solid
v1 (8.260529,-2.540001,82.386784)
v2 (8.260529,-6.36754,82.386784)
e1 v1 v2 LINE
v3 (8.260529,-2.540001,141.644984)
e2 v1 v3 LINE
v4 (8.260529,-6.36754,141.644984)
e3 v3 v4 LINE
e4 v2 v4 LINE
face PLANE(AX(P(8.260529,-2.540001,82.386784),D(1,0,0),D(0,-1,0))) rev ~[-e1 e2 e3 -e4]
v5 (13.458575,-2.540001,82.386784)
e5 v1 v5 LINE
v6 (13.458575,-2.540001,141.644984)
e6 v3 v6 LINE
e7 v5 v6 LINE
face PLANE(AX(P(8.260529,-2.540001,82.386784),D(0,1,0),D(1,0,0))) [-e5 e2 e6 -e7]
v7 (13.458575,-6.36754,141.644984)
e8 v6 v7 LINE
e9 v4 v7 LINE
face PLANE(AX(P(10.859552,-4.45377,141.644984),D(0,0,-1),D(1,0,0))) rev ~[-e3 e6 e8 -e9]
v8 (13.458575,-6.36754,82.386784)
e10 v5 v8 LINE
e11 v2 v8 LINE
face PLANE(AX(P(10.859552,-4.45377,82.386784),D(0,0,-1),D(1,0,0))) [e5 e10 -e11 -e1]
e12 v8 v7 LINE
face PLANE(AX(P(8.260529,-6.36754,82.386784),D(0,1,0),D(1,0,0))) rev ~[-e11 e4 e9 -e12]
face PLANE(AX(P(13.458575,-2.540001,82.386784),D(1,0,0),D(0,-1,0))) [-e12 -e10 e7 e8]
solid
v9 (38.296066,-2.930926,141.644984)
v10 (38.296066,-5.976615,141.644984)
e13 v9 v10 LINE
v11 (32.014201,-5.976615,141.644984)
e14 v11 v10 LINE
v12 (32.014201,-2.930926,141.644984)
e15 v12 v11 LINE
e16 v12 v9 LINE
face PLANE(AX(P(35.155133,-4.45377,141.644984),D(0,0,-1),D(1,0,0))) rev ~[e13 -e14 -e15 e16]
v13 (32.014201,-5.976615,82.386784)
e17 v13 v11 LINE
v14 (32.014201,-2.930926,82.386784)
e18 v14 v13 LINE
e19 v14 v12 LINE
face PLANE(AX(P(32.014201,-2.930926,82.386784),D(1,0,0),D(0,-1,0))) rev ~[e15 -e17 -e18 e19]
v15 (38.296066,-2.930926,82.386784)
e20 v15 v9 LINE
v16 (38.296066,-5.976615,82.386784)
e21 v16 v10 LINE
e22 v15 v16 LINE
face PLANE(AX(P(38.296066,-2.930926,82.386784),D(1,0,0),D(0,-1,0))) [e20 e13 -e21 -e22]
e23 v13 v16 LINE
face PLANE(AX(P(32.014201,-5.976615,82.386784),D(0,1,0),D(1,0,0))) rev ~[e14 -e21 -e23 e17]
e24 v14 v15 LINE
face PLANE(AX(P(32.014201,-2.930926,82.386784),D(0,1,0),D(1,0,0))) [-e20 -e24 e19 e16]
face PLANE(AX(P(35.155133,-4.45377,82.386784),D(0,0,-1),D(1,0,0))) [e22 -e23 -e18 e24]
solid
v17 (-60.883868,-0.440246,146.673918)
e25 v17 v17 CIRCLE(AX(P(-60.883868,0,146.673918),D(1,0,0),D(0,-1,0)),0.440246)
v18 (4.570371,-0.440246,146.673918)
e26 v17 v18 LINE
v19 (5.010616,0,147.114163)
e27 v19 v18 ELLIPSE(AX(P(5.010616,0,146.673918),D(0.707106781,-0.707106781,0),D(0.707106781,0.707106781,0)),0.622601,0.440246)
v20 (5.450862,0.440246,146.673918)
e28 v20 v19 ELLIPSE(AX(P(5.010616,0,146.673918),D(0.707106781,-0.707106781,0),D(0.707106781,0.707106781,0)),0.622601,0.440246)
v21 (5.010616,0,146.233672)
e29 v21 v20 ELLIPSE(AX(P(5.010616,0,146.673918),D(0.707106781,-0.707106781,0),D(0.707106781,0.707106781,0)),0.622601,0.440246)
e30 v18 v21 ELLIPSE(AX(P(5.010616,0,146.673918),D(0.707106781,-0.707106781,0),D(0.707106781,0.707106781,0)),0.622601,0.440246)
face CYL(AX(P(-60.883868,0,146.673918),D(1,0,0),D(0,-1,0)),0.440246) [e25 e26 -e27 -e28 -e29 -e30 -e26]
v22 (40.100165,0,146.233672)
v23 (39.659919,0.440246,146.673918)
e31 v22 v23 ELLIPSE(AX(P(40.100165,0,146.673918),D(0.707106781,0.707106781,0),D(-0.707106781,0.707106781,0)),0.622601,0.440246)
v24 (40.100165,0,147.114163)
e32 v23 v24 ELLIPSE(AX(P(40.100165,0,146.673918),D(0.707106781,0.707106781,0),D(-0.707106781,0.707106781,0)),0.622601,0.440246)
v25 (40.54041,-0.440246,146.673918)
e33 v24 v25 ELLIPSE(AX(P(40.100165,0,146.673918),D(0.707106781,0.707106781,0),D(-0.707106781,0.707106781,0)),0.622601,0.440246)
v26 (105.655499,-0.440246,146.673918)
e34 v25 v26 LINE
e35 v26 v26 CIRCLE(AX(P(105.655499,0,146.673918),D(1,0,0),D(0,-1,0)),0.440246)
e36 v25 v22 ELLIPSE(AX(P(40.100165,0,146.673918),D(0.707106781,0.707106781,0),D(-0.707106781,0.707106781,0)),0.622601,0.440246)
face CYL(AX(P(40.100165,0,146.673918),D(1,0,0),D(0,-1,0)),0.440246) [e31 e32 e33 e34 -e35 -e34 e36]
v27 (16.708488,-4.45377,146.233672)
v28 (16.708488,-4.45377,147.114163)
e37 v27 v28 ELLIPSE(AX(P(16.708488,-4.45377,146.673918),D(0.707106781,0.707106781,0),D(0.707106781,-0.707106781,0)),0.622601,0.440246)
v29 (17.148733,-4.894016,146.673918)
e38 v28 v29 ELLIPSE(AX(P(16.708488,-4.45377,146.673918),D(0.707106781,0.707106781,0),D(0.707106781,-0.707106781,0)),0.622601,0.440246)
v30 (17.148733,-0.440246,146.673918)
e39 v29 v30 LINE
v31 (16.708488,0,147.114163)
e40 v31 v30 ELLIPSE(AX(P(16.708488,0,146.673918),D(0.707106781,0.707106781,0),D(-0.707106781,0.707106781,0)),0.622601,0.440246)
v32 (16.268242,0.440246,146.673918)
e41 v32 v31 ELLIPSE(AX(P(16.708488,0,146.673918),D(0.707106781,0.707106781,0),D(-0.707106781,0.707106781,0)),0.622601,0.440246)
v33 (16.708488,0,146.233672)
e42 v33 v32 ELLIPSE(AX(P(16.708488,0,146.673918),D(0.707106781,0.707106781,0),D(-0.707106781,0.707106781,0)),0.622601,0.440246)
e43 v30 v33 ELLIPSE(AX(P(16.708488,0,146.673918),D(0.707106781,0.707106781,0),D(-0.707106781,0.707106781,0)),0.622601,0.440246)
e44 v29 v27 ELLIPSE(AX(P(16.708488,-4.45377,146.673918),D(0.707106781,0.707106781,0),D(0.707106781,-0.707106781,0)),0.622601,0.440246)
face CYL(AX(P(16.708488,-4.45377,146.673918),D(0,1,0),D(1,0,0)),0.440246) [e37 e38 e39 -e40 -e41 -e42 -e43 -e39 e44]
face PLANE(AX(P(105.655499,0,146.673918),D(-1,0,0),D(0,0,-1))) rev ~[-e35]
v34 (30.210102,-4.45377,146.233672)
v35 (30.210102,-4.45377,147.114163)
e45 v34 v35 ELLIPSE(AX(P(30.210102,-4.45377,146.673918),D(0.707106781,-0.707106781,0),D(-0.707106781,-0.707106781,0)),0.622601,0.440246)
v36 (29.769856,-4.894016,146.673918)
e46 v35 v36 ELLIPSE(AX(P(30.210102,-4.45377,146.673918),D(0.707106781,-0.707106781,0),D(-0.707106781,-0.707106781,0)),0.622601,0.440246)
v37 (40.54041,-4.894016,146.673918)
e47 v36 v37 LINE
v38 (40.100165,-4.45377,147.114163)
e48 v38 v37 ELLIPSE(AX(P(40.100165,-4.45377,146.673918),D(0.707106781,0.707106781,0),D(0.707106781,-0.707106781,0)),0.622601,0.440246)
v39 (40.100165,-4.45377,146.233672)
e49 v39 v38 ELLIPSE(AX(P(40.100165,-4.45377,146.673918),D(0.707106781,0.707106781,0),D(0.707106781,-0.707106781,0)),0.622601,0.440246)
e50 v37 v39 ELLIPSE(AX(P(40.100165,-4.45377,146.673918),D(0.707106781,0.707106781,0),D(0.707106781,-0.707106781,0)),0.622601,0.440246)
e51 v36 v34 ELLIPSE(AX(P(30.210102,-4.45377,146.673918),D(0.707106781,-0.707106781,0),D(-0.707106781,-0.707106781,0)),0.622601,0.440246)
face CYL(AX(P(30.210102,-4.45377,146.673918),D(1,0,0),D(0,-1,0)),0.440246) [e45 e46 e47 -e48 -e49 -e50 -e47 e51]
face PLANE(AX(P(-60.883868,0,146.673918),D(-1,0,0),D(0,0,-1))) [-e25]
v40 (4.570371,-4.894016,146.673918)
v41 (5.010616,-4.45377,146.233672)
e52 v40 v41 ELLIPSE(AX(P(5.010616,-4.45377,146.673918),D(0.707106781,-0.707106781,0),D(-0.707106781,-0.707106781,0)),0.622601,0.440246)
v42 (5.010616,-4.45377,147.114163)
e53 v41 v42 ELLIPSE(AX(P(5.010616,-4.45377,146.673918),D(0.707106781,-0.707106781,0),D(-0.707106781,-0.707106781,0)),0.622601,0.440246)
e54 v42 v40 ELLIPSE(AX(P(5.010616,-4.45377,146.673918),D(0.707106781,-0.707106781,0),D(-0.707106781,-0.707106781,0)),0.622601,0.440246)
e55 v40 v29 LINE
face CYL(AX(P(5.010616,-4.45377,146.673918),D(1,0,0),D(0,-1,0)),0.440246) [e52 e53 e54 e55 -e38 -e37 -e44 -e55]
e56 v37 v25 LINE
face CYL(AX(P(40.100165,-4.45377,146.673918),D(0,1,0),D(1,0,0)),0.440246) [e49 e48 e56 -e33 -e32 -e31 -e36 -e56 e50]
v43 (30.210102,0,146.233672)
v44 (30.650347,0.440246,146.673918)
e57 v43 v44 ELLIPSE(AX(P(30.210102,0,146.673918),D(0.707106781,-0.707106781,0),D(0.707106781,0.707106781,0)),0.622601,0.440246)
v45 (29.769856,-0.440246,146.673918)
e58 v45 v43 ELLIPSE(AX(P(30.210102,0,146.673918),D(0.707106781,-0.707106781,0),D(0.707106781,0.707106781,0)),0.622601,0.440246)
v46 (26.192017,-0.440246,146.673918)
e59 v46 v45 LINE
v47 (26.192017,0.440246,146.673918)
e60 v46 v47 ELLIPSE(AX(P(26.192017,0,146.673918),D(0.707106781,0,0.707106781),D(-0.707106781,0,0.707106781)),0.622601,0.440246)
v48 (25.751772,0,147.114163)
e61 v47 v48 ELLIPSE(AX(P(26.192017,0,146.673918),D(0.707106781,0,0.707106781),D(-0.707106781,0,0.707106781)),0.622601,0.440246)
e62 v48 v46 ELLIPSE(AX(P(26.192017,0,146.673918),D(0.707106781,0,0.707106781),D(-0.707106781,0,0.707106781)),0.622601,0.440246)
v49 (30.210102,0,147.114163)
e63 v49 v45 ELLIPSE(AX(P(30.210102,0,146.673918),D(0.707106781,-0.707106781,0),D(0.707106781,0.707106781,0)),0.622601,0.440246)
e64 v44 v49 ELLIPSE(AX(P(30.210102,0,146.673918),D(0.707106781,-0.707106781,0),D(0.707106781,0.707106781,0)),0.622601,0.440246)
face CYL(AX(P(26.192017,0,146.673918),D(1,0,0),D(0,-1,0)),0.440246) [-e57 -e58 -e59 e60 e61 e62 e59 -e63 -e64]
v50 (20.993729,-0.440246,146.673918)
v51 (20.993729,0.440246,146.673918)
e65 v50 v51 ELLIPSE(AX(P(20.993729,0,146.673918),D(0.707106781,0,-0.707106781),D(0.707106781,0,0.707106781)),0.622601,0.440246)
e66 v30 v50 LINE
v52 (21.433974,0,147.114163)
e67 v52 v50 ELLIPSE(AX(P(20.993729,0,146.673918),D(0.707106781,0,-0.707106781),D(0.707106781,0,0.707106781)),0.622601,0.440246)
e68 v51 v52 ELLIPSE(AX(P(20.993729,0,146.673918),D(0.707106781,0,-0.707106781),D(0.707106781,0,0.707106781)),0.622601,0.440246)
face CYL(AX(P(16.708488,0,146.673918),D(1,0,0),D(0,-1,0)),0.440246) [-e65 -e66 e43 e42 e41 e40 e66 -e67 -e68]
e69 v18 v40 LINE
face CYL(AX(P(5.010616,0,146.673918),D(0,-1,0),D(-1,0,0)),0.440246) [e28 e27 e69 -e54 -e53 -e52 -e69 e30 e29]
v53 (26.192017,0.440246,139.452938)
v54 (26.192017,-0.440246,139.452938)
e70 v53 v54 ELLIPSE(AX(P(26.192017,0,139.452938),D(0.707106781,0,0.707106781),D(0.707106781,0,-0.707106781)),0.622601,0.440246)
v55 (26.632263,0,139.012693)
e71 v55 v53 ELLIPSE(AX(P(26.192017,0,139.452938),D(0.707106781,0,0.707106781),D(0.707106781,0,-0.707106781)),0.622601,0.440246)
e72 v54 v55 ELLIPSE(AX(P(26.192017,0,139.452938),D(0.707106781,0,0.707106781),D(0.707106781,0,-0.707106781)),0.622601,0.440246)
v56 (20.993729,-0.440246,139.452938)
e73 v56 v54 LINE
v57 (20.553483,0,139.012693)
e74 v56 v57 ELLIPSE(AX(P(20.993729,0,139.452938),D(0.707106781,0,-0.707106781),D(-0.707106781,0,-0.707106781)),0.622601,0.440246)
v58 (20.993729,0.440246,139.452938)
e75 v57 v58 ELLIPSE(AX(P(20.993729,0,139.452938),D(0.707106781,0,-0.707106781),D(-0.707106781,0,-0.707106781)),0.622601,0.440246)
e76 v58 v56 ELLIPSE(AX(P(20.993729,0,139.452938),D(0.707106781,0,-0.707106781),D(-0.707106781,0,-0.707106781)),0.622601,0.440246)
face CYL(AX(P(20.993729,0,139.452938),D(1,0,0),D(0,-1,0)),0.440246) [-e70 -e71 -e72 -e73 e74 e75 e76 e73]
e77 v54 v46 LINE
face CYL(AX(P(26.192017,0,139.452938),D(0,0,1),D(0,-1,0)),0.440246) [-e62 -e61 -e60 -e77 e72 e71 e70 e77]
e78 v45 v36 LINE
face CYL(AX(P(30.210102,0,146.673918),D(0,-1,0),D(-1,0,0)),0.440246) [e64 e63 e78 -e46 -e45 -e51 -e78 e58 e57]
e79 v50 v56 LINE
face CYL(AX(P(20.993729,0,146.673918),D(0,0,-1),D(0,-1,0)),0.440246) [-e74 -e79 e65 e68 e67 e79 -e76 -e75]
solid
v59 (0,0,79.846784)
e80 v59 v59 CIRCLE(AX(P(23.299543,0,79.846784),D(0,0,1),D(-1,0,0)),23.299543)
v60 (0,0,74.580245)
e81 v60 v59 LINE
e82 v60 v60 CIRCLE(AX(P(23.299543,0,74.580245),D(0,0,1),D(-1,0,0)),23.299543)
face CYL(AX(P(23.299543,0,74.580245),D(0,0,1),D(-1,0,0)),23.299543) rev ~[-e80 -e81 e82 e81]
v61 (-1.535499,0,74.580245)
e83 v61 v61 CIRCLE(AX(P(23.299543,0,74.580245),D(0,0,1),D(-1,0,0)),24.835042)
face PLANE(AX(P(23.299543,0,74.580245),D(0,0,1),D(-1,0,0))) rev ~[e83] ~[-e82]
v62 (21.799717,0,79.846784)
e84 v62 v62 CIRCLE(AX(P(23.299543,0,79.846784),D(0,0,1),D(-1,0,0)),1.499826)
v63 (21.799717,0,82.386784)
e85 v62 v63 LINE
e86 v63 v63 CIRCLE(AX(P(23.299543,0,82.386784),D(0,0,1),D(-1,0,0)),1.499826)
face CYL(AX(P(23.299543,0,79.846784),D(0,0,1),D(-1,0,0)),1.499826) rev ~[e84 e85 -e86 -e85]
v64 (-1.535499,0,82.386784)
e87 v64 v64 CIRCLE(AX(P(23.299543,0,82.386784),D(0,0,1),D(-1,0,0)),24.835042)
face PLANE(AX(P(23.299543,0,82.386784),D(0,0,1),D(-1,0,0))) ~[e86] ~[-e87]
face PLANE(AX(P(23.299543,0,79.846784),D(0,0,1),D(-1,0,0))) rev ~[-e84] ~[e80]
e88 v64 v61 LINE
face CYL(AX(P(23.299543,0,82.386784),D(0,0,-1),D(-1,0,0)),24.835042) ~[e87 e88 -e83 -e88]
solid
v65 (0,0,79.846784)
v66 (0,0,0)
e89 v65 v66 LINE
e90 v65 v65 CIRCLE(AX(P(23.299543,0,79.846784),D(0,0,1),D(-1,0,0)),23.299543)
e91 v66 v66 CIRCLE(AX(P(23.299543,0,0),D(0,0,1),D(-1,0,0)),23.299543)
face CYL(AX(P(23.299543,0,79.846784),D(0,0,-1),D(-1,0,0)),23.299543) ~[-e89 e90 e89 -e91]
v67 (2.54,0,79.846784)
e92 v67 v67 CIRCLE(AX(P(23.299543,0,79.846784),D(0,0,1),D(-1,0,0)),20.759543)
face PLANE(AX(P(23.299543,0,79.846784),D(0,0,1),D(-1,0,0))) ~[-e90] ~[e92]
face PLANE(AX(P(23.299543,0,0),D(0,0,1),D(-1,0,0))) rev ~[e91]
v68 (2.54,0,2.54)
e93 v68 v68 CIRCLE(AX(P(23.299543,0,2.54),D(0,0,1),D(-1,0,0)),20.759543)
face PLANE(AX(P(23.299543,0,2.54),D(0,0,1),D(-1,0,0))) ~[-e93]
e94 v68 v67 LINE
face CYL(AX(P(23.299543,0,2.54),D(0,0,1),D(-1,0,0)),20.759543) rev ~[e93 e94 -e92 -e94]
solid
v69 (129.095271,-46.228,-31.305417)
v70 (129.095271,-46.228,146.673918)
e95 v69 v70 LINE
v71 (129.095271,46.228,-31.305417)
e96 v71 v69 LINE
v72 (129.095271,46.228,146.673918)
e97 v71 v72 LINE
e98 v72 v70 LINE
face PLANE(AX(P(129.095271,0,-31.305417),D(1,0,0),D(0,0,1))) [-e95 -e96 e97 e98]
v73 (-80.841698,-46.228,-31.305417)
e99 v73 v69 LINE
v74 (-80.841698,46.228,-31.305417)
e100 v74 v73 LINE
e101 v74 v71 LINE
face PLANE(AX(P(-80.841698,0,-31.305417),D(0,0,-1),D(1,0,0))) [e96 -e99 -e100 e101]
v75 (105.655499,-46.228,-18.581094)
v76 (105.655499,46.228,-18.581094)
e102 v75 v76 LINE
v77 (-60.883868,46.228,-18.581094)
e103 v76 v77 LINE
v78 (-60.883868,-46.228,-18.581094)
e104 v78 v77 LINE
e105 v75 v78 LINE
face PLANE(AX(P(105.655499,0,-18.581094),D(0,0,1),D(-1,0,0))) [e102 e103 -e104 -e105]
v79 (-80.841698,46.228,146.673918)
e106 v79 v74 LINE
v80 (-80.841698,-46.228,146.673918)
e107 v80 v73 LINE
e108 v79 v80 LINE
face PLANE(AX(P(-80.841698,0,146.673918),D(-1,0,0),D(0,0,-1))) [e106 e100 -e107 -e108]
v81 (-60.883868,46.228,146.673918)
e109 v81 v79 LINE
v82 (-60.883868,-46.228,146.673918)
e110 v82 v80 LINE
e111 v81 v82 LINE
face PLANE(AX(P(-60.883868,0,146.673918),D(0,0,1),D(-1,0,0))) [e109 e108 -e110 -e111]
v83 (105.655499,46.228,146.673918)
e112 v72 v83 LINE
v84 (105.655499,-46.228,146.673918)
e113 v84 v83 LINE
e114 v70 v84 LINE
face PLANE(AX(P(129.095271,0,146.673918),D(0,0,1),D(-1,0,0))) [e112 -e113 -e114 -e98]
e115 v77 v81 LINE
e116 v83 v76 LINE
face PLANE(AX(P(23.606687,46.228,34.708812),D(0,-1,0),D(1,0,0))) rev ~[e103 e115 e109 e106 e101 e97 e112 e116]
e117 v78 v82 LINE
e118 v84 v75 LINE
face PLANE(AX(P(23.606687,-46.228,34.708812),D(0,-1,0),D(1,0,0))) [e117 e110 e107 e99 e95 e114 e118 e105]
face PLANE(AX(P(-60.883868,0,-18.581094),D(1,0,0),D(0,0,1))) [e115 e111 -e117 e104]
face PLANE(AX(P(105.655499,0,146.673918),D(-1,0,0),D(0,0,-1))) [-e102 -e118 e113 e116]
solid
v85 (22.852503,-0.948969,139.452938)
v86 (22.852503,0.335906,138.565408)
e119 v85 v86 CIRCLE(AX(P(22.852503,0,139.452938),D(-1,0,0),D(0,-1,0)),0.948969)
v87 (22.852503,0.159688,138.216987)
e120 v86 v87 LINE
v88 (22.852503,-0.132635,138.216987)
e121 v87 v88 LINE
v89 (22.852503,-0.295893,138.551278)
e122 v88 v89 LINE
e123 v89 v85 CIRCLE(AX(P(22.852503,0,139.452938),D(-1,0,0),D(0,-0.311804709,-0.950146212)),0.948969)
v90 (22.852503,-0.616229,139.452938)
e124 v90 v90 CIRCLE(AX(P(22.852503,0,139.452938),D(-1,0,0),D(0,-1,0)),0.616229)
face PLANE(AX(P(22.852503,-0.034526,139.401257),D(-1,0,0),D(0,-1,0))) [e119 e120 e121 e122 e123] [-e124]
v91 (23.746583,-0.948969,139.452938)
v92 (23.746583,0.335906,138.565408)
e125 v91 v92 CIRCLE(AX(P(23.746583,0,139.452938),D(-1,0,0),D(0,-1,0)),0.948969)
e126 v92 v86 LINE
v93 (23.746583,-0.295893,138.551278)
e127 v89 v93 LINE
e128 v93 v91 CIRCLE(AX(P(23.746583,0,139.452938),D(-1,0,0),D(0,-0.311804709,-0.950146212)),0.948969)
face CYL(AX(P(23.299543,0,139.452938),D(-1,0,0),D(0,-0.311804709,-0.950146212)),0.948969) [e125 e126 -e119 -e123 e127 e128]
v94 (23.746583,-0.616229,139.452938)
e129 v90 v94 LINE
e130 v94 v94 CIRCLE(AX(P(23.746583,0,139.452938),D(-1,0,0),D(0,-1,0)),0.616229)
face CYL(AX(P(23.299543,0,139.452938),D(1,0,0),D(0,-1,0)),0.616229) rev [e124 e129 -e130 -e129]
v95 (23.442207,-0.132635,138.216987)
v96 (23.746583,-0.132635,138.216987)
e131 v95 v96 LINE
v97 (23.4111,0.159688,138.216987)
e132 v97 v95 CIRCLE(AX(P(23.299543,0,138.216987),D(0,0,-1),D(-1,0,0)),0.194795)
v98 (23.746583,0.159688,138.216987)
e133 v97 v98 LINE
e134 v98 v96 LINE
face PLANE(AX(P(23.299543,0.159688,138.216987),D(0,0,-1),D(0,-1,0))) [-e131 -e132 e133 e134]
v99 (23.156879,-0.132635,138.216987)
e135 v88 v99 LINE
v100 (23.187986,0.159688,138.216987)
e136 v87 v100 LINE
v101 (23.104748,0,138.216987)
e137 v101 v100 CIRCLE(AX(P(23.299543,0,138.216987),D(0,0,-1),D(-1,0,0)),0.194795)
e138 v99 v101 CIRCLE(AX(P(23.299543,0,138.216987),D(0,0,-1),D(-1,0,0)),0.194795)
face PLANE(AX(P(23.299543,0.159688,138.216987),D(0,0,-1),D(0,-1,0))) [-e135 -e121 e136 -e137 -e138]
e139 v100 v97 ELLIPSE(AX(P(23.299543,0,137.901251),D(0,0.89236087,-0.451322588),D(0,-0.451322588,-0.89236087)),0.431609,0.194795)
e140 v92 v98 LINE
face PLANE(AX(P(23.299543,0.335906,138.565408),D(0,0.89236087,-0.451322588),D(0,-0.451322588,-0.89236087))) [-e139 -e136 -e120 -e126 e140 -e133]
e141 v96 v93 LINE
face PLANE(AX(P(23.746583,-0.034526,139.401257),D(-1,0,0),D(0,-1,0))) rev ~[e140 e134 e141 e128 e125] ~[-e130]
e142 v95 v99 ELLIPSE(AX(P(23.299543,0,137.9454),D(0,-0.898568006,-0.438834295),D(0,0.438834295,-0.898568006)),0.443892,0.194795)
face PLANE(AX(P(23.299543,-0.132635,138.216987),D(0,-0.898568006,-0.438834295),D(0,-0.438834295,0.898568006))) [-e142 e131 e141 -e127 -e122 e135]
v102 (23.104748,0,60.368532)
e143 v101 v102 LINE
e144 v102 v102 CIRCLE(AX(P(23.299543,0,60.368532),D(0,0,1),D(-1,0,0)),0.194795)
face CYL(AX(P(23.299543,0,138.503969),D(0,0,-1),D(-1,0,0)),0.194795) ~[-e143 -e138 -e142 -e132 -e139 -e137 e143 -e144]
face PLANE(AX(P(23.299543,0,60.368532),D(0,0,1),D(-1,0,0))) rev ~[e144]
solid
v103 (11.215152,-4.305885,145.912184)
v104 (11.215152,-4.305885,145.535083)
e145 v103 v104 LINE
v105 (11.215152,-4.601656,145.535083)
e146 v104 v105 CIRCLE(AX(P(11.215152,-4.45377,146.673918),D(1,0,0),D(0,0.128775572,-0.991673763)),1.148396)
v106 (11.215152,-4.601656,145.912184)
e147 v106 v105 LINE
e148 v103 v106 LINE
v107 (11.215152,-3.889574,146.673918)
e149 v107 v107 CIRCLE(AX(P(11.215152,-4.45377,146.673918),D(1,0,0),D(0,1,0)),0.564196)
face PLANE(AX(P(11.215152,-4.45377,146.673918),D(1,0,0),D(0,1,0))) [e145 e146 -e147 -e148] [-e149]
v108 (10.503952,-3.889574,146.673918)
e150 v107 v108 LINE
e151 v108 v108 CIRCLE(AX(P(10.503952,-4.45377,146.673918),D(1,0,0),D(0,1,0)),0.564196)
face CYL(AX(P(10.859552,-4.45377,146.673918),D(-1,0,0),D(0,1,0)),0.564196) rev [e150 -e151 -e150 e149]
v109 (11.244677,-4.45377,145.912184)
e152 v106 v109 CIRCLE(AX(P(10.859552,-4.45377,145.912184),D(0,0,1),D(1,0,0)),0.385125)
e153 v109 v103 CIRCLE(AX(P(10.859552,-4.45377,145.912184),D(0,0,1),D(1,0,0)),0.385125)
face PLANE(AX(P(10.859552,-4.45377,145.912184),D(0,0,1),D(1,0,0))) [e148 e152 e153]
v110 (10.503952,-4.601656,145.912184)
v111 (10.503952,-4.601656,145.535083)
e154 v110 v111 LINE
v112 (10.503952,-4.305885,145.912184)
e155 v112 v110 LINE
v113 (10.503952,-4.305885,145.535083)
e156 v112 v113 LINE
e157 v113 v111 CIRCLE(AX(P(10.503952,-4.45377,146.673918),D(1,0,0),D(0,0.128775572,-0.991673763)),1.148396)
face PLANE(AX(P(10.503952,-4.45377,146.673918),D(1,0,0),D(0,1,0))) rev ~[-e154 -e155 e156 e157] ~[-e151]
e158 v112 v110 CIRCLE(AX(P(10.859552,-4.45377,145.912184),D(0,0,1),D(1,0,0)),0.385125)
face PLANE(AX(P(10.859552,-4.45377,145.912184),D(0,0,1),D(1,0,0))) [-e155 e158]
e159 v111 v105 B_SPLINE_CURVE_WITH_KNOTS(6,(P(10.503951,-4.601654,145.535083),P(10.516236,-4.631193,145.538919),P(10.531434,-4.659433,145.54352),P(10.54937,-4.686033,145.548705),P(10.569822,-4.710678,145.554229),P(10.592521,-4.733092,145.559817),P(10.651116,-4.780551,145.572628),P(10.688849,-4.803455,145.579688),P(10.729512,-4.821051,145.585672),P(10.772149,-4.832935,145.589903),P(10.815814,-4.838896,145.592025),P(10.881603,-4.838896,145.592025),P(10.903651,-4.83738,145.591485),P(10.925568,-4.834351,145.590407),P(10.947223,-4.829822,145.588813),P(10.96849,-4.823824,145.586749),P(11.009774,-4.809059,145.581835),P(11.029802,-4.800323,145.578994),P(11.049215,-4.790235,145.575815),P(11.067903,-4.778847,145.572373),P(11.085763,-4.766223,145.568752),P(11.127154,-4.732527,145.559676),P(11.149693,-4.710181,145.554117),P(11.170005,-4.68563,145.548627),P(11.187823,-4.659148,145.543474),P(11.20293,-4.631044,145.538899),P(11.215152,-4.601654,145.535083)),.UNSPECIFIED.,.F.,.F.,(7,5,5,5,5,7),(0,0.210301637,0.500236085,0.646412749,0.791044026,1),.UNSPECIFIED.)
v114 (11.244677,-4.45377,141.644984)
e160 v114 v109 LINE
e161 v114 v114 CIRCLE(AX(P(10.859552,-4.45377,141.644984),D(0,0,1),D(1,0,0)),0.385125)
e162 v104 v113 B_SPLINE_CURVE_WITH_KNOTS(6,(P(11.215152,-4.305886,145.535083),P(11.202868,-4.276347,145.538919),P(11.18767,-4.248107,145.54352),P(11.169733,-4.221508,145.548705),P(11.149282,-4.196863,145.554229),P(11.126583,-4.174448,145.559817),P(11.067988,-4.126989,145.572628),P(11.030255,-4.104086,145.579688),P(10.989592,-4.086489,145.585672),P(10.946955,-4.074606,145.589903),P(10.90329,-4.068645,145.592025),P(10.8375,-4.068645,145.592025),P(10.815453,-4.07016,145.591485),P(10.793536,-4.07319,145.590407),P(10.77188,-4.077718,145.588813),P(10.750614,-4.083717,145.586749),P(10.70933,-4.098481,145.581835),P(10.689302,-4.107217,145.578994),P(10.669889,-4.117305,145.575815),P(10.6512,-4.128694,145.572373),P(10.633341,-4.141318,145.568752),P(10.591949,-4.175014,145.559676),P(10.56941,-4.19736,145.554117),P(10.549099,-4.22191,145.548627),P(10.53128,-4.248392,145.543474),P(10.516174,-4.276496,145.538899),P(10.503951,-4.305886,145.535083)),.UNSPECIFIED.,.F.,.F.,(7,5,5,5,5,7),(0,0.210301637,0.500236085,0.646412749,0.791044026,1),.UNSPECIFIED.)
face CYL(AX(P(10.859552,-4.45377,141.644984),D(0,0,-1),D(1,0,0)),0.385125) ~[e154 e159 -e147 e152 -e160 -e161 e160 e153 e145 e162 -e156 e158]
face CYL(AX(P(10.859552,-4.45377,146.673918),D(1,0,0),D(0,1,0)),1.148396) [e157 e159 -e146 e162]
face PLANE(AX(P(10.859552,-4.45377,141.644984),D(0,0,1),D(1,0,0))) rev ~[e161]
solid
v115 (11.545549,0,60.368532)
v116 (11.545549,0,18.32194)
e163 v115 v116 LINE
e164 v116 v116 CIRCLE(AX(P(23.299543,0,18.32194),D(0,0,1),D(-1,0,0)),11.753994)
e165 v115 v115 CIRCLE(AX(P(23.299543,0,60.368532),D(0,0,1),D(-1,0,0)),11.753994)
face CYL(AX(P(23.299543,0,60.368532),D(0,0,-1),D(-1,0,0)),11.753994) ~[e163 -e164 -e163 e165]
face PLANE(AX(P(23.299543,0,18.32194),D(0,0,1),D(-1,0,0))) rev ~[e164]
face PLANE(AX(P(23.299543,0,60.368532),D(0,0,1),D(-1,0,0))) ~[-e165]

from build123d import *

# Parameters (mm, degrees)
F0_W      = 0.1947950749
F0_H      = 56.1171844602
F0_H_2    = 2.54
F0_H_3    = 19.478252266
F4_R      = 0.4402455132
F11_W     = 5.1980465651
F11_H     = 3.8275388069
F12_DEPTH = 59.2582
F11_W_2   = 6.2818654567
F11_H_2   = 3.045688549
F14_R     = 0.6162294101
F15_DEPTH = 0.44704
F18_R     = 1.1483963801
F18_R_2   = 0.5641964146
F19_DEPTH = 0.3556
F20_R     = 0.3851252417
F21_DEPTH = 4.2672
F22_DEPTH = 46.228


with BuildPart() as f5:
    # F0 (on Front) → F5 (revolve)
    with BuildSketch(Plane.XZ):
        Polygon((0, 74.58024472), (0, 0), (23.299543187, 0), (23.299543187, 2.54), (2.54, 2.54), (2.54, 79.8467842555), (0, 79.8467842555), align=None)
    revolve(axis=Axis((23.299543187, 0, 69.2519843578), (0, 0, 1)))


with BuildPart() as f6:
    # F0 (on Front) → F6 (revolve)
    with BuildSketch(Plane.XZ):
        Polygon((-1.5354988864, 74.58024472), (0, 74.58024472), (0, 79.8467842555), (2.54, 79.8467842555), (21.7997170985, 79.8467842555), (21.7997170985, 82.3867842555), (-1.5354988864, 82.3867842555), align=None)
    revolve(axis=Axis((23.299543187, 0, 69.2519843578), (0, 0, 1)))


with BuildPart() as f7:
    # F0 (on Front) → F7 (revolve)
    with BuildSketch(Plane.XZ):
        Polygon((11.545549036, 18.32194035), (23.299543187, 18.32194035), (23.299543187, 60.3685319895), (23.1047481121, 60.3685319895), (11.545549036, 60.3685319895), align=None)
    revolve(axis=Axis((23.299543187, 0, 69.2519843578), (0, 0, 1)))


with BuildPart() as f8:
    # F0 (on Front) → F8 (revolve)
    with BuildSketch(Plane.XZ):
        with Locations((23.2021456496, 110.4453764856)):
            Rectangle(F0_W, F0_H)
        with Locations((23.2021456496, 81.1167842555)):
            Rectangle(F0_W, F0_H_2)
        with Locations((23.2021456496, 70.1076581225)):
            Rectangle(F0_W, F0_H_3)
    revolve(axis=Axis((23.299543187, 0, 69.2519843578), (0, 0, 1)))

    # F14 (on line) → F15 (join, symmetric)
    with BuildSketch(Plane(origin=(23.299543187, 0, 0), x_dir=(0, -1, 0), z_dir=(-1, 0, 0))):
        with BuildLine():
            ThreePointArc((0.2958931431, 138.5512784378), (0.7685494681, 138.8962742348), (0.9489694498, 139.4529381654))
            ThreePointArc((0.9489694498, 139.4529381654), (-0.5393416407, 140.2337413488), (-0.3359056562, 138.5654076551))
            ThreePointArc((-0.3359056562, 138.5654076551), (-0.0212169507, 138.5042059284), (0.2958931431, 138.5512784378))
        make_face()
        with Locations((0, 139.4529381654)):
            Circle(F14_R, mode=Mode.SUBTRACT)
        with BuildLine():
            ThreePointArc((0.2958931431, 138.5512784378), (-0.0212169507, 138.5042059284), (-0.3359056562, 138.5654076551))
            Line((-0.3359056562, 138.5654076551), (-0.1596877119, 138.2169872522))
            Line((-0.1596877119, 138.2169872522), (0.1326351194, 138.2169872522))
            Line((0.1326351194, 138.2169872522), (0.2958931431, 138.5512784378))
        make_face()
    extrude(amount=F15_DEPTH, both=True)


with BuildPart() as f9:
    # F9: sweep along a path in F2, F0, F2
    with BuildLine(Plane.XY.offset(146.6739177704)) as f9_path:
        Line((-60.8838684857, 0), (5.0106160343, 0))
        Line((5.0106160343, 0), (5.0106160343, -4.4537703507))
        Line((5.0106160343, -4.4537703507), (16.7084876448, -4.4537703507))
        Line((16.7084876448, -4.4537703507), (16.7084876448, 0))
    with BuildLine(Plane.XZ) as f9_path_2:
        Line((16.7084876448, 146.6739177704), (20.9937285455, 146.6739177704))
        Line((20.9937285455, 146.6739177704), (20.9937285455, 139.4529381654))
        Line((20.9937285455, 139.4529381654), (23.299543187, 139.4529381654))
        Line((23.299543187, 139.4529381654), (26.1920172544, 139.4529381654))
        Line((26.1920172544, 139.4529381654), (26.1920172544, 146.6739177704))
        Line((26.1920172544, 146.6739177704), (30.210101977, 146.6739177704))
    with BuildLine(Plane.XY.offset(146.6739177704)) as f9_path_3:
        Line((30.210101977, 0), (30.210101977, -4.4537703507))
        Line((30.210101977, -4.4537703507), (40.1001647115, -4.4537703507))
        Line((40.1001647115, -4.4537703507), (40.1001647115, 0))
        Line((40.1001647115, 0), (105.6554988027, 0))
    # F4 (on line) → F9 (sweep)
    with BuildSketch(Plane(origin=(-60.8838684857, 0, 0), x_dir=(0, -1, 0), z_dir=(-1, 0, 0))):
        with Locations((0, 146.6739177704)):
            Circle(F4_R)
    sweep(path=f9_path.line + f9_path_2.line + f9_path_3.line, transition=Transition.RIGHT)


with BuildPart() as f12:
    # F11 (on line) → F12 (new body)
    with BuildSketch(Plane(origin=(0, 0, 82.3867842555), x_dir=(1, 0, 0), z_dir=(0, 0, -1))):
        with Locations((10.8595518395, 4.4537703507)):
            Rectangle(F11_W, F11_H)
    extrude(amount=-F12_DEPTH)


with BuildPart() as f12b:
    # F11 (on line) → F12, piece 2 (new body)
    with BuildSketch(Plane(origin=(0, 0, 82.3867842555), x_dir=(1, 0, 0), z_dir=(0, 0, -1))):
        with Locations((35.1551333442, 4.4537703507)):
            Rectangle(F11_W_2, F11_H_2)
    extrude(amount=-F12_DEPTH)


with BuildPart() as f19:
    # F18 (on line) → F19 (new body, symmetric)
    with BuildSketch(Plane.YZ.offset(10.8595518395)):
        with Locations((-4.4537703507, 146.6739177704)):
            Circle(F18_R)
        with Locations((-4.4537703507, 146.6739177704)):
            Circle(F18_R_2, mode=Mode.SUBTRACT)
    extrude(amount=F19_DEPTH, both=True)

    # F20 (on face) → F21 (join)
    with BuildSketch(Plane.XY.offset(141.6449842555)):
        with Locations((10.8595518395, -4.4537703507)):
            Circle(F20_R)
    extrude(amount=F21_DEPTH)


with BuildPart() as f22:
    # F0 (on Front) → F22 (new body, symmetric)
    with BuildSketch(Plane.XZ):
        Polygon((-60.8838684857, -18.5810942203), (-60.8838684857, 146.6739177704), (-80.8416977525, 146.6739177704), (-80.8416977525, -31.3054174185), (129.0952712297, -31.3054174185), (129.0952712297, 146.6739177704), (105.6554988027, 146.6739177704), (105.6554988027, -18.5810942203), align=None)
    extrude(amount=F22_DEPTH, both=True)


solid = Compound([f5.part, f6.part, f7.part, f8.part, f9.part, f12.part, f12b.part, f19.part, f22.part])
